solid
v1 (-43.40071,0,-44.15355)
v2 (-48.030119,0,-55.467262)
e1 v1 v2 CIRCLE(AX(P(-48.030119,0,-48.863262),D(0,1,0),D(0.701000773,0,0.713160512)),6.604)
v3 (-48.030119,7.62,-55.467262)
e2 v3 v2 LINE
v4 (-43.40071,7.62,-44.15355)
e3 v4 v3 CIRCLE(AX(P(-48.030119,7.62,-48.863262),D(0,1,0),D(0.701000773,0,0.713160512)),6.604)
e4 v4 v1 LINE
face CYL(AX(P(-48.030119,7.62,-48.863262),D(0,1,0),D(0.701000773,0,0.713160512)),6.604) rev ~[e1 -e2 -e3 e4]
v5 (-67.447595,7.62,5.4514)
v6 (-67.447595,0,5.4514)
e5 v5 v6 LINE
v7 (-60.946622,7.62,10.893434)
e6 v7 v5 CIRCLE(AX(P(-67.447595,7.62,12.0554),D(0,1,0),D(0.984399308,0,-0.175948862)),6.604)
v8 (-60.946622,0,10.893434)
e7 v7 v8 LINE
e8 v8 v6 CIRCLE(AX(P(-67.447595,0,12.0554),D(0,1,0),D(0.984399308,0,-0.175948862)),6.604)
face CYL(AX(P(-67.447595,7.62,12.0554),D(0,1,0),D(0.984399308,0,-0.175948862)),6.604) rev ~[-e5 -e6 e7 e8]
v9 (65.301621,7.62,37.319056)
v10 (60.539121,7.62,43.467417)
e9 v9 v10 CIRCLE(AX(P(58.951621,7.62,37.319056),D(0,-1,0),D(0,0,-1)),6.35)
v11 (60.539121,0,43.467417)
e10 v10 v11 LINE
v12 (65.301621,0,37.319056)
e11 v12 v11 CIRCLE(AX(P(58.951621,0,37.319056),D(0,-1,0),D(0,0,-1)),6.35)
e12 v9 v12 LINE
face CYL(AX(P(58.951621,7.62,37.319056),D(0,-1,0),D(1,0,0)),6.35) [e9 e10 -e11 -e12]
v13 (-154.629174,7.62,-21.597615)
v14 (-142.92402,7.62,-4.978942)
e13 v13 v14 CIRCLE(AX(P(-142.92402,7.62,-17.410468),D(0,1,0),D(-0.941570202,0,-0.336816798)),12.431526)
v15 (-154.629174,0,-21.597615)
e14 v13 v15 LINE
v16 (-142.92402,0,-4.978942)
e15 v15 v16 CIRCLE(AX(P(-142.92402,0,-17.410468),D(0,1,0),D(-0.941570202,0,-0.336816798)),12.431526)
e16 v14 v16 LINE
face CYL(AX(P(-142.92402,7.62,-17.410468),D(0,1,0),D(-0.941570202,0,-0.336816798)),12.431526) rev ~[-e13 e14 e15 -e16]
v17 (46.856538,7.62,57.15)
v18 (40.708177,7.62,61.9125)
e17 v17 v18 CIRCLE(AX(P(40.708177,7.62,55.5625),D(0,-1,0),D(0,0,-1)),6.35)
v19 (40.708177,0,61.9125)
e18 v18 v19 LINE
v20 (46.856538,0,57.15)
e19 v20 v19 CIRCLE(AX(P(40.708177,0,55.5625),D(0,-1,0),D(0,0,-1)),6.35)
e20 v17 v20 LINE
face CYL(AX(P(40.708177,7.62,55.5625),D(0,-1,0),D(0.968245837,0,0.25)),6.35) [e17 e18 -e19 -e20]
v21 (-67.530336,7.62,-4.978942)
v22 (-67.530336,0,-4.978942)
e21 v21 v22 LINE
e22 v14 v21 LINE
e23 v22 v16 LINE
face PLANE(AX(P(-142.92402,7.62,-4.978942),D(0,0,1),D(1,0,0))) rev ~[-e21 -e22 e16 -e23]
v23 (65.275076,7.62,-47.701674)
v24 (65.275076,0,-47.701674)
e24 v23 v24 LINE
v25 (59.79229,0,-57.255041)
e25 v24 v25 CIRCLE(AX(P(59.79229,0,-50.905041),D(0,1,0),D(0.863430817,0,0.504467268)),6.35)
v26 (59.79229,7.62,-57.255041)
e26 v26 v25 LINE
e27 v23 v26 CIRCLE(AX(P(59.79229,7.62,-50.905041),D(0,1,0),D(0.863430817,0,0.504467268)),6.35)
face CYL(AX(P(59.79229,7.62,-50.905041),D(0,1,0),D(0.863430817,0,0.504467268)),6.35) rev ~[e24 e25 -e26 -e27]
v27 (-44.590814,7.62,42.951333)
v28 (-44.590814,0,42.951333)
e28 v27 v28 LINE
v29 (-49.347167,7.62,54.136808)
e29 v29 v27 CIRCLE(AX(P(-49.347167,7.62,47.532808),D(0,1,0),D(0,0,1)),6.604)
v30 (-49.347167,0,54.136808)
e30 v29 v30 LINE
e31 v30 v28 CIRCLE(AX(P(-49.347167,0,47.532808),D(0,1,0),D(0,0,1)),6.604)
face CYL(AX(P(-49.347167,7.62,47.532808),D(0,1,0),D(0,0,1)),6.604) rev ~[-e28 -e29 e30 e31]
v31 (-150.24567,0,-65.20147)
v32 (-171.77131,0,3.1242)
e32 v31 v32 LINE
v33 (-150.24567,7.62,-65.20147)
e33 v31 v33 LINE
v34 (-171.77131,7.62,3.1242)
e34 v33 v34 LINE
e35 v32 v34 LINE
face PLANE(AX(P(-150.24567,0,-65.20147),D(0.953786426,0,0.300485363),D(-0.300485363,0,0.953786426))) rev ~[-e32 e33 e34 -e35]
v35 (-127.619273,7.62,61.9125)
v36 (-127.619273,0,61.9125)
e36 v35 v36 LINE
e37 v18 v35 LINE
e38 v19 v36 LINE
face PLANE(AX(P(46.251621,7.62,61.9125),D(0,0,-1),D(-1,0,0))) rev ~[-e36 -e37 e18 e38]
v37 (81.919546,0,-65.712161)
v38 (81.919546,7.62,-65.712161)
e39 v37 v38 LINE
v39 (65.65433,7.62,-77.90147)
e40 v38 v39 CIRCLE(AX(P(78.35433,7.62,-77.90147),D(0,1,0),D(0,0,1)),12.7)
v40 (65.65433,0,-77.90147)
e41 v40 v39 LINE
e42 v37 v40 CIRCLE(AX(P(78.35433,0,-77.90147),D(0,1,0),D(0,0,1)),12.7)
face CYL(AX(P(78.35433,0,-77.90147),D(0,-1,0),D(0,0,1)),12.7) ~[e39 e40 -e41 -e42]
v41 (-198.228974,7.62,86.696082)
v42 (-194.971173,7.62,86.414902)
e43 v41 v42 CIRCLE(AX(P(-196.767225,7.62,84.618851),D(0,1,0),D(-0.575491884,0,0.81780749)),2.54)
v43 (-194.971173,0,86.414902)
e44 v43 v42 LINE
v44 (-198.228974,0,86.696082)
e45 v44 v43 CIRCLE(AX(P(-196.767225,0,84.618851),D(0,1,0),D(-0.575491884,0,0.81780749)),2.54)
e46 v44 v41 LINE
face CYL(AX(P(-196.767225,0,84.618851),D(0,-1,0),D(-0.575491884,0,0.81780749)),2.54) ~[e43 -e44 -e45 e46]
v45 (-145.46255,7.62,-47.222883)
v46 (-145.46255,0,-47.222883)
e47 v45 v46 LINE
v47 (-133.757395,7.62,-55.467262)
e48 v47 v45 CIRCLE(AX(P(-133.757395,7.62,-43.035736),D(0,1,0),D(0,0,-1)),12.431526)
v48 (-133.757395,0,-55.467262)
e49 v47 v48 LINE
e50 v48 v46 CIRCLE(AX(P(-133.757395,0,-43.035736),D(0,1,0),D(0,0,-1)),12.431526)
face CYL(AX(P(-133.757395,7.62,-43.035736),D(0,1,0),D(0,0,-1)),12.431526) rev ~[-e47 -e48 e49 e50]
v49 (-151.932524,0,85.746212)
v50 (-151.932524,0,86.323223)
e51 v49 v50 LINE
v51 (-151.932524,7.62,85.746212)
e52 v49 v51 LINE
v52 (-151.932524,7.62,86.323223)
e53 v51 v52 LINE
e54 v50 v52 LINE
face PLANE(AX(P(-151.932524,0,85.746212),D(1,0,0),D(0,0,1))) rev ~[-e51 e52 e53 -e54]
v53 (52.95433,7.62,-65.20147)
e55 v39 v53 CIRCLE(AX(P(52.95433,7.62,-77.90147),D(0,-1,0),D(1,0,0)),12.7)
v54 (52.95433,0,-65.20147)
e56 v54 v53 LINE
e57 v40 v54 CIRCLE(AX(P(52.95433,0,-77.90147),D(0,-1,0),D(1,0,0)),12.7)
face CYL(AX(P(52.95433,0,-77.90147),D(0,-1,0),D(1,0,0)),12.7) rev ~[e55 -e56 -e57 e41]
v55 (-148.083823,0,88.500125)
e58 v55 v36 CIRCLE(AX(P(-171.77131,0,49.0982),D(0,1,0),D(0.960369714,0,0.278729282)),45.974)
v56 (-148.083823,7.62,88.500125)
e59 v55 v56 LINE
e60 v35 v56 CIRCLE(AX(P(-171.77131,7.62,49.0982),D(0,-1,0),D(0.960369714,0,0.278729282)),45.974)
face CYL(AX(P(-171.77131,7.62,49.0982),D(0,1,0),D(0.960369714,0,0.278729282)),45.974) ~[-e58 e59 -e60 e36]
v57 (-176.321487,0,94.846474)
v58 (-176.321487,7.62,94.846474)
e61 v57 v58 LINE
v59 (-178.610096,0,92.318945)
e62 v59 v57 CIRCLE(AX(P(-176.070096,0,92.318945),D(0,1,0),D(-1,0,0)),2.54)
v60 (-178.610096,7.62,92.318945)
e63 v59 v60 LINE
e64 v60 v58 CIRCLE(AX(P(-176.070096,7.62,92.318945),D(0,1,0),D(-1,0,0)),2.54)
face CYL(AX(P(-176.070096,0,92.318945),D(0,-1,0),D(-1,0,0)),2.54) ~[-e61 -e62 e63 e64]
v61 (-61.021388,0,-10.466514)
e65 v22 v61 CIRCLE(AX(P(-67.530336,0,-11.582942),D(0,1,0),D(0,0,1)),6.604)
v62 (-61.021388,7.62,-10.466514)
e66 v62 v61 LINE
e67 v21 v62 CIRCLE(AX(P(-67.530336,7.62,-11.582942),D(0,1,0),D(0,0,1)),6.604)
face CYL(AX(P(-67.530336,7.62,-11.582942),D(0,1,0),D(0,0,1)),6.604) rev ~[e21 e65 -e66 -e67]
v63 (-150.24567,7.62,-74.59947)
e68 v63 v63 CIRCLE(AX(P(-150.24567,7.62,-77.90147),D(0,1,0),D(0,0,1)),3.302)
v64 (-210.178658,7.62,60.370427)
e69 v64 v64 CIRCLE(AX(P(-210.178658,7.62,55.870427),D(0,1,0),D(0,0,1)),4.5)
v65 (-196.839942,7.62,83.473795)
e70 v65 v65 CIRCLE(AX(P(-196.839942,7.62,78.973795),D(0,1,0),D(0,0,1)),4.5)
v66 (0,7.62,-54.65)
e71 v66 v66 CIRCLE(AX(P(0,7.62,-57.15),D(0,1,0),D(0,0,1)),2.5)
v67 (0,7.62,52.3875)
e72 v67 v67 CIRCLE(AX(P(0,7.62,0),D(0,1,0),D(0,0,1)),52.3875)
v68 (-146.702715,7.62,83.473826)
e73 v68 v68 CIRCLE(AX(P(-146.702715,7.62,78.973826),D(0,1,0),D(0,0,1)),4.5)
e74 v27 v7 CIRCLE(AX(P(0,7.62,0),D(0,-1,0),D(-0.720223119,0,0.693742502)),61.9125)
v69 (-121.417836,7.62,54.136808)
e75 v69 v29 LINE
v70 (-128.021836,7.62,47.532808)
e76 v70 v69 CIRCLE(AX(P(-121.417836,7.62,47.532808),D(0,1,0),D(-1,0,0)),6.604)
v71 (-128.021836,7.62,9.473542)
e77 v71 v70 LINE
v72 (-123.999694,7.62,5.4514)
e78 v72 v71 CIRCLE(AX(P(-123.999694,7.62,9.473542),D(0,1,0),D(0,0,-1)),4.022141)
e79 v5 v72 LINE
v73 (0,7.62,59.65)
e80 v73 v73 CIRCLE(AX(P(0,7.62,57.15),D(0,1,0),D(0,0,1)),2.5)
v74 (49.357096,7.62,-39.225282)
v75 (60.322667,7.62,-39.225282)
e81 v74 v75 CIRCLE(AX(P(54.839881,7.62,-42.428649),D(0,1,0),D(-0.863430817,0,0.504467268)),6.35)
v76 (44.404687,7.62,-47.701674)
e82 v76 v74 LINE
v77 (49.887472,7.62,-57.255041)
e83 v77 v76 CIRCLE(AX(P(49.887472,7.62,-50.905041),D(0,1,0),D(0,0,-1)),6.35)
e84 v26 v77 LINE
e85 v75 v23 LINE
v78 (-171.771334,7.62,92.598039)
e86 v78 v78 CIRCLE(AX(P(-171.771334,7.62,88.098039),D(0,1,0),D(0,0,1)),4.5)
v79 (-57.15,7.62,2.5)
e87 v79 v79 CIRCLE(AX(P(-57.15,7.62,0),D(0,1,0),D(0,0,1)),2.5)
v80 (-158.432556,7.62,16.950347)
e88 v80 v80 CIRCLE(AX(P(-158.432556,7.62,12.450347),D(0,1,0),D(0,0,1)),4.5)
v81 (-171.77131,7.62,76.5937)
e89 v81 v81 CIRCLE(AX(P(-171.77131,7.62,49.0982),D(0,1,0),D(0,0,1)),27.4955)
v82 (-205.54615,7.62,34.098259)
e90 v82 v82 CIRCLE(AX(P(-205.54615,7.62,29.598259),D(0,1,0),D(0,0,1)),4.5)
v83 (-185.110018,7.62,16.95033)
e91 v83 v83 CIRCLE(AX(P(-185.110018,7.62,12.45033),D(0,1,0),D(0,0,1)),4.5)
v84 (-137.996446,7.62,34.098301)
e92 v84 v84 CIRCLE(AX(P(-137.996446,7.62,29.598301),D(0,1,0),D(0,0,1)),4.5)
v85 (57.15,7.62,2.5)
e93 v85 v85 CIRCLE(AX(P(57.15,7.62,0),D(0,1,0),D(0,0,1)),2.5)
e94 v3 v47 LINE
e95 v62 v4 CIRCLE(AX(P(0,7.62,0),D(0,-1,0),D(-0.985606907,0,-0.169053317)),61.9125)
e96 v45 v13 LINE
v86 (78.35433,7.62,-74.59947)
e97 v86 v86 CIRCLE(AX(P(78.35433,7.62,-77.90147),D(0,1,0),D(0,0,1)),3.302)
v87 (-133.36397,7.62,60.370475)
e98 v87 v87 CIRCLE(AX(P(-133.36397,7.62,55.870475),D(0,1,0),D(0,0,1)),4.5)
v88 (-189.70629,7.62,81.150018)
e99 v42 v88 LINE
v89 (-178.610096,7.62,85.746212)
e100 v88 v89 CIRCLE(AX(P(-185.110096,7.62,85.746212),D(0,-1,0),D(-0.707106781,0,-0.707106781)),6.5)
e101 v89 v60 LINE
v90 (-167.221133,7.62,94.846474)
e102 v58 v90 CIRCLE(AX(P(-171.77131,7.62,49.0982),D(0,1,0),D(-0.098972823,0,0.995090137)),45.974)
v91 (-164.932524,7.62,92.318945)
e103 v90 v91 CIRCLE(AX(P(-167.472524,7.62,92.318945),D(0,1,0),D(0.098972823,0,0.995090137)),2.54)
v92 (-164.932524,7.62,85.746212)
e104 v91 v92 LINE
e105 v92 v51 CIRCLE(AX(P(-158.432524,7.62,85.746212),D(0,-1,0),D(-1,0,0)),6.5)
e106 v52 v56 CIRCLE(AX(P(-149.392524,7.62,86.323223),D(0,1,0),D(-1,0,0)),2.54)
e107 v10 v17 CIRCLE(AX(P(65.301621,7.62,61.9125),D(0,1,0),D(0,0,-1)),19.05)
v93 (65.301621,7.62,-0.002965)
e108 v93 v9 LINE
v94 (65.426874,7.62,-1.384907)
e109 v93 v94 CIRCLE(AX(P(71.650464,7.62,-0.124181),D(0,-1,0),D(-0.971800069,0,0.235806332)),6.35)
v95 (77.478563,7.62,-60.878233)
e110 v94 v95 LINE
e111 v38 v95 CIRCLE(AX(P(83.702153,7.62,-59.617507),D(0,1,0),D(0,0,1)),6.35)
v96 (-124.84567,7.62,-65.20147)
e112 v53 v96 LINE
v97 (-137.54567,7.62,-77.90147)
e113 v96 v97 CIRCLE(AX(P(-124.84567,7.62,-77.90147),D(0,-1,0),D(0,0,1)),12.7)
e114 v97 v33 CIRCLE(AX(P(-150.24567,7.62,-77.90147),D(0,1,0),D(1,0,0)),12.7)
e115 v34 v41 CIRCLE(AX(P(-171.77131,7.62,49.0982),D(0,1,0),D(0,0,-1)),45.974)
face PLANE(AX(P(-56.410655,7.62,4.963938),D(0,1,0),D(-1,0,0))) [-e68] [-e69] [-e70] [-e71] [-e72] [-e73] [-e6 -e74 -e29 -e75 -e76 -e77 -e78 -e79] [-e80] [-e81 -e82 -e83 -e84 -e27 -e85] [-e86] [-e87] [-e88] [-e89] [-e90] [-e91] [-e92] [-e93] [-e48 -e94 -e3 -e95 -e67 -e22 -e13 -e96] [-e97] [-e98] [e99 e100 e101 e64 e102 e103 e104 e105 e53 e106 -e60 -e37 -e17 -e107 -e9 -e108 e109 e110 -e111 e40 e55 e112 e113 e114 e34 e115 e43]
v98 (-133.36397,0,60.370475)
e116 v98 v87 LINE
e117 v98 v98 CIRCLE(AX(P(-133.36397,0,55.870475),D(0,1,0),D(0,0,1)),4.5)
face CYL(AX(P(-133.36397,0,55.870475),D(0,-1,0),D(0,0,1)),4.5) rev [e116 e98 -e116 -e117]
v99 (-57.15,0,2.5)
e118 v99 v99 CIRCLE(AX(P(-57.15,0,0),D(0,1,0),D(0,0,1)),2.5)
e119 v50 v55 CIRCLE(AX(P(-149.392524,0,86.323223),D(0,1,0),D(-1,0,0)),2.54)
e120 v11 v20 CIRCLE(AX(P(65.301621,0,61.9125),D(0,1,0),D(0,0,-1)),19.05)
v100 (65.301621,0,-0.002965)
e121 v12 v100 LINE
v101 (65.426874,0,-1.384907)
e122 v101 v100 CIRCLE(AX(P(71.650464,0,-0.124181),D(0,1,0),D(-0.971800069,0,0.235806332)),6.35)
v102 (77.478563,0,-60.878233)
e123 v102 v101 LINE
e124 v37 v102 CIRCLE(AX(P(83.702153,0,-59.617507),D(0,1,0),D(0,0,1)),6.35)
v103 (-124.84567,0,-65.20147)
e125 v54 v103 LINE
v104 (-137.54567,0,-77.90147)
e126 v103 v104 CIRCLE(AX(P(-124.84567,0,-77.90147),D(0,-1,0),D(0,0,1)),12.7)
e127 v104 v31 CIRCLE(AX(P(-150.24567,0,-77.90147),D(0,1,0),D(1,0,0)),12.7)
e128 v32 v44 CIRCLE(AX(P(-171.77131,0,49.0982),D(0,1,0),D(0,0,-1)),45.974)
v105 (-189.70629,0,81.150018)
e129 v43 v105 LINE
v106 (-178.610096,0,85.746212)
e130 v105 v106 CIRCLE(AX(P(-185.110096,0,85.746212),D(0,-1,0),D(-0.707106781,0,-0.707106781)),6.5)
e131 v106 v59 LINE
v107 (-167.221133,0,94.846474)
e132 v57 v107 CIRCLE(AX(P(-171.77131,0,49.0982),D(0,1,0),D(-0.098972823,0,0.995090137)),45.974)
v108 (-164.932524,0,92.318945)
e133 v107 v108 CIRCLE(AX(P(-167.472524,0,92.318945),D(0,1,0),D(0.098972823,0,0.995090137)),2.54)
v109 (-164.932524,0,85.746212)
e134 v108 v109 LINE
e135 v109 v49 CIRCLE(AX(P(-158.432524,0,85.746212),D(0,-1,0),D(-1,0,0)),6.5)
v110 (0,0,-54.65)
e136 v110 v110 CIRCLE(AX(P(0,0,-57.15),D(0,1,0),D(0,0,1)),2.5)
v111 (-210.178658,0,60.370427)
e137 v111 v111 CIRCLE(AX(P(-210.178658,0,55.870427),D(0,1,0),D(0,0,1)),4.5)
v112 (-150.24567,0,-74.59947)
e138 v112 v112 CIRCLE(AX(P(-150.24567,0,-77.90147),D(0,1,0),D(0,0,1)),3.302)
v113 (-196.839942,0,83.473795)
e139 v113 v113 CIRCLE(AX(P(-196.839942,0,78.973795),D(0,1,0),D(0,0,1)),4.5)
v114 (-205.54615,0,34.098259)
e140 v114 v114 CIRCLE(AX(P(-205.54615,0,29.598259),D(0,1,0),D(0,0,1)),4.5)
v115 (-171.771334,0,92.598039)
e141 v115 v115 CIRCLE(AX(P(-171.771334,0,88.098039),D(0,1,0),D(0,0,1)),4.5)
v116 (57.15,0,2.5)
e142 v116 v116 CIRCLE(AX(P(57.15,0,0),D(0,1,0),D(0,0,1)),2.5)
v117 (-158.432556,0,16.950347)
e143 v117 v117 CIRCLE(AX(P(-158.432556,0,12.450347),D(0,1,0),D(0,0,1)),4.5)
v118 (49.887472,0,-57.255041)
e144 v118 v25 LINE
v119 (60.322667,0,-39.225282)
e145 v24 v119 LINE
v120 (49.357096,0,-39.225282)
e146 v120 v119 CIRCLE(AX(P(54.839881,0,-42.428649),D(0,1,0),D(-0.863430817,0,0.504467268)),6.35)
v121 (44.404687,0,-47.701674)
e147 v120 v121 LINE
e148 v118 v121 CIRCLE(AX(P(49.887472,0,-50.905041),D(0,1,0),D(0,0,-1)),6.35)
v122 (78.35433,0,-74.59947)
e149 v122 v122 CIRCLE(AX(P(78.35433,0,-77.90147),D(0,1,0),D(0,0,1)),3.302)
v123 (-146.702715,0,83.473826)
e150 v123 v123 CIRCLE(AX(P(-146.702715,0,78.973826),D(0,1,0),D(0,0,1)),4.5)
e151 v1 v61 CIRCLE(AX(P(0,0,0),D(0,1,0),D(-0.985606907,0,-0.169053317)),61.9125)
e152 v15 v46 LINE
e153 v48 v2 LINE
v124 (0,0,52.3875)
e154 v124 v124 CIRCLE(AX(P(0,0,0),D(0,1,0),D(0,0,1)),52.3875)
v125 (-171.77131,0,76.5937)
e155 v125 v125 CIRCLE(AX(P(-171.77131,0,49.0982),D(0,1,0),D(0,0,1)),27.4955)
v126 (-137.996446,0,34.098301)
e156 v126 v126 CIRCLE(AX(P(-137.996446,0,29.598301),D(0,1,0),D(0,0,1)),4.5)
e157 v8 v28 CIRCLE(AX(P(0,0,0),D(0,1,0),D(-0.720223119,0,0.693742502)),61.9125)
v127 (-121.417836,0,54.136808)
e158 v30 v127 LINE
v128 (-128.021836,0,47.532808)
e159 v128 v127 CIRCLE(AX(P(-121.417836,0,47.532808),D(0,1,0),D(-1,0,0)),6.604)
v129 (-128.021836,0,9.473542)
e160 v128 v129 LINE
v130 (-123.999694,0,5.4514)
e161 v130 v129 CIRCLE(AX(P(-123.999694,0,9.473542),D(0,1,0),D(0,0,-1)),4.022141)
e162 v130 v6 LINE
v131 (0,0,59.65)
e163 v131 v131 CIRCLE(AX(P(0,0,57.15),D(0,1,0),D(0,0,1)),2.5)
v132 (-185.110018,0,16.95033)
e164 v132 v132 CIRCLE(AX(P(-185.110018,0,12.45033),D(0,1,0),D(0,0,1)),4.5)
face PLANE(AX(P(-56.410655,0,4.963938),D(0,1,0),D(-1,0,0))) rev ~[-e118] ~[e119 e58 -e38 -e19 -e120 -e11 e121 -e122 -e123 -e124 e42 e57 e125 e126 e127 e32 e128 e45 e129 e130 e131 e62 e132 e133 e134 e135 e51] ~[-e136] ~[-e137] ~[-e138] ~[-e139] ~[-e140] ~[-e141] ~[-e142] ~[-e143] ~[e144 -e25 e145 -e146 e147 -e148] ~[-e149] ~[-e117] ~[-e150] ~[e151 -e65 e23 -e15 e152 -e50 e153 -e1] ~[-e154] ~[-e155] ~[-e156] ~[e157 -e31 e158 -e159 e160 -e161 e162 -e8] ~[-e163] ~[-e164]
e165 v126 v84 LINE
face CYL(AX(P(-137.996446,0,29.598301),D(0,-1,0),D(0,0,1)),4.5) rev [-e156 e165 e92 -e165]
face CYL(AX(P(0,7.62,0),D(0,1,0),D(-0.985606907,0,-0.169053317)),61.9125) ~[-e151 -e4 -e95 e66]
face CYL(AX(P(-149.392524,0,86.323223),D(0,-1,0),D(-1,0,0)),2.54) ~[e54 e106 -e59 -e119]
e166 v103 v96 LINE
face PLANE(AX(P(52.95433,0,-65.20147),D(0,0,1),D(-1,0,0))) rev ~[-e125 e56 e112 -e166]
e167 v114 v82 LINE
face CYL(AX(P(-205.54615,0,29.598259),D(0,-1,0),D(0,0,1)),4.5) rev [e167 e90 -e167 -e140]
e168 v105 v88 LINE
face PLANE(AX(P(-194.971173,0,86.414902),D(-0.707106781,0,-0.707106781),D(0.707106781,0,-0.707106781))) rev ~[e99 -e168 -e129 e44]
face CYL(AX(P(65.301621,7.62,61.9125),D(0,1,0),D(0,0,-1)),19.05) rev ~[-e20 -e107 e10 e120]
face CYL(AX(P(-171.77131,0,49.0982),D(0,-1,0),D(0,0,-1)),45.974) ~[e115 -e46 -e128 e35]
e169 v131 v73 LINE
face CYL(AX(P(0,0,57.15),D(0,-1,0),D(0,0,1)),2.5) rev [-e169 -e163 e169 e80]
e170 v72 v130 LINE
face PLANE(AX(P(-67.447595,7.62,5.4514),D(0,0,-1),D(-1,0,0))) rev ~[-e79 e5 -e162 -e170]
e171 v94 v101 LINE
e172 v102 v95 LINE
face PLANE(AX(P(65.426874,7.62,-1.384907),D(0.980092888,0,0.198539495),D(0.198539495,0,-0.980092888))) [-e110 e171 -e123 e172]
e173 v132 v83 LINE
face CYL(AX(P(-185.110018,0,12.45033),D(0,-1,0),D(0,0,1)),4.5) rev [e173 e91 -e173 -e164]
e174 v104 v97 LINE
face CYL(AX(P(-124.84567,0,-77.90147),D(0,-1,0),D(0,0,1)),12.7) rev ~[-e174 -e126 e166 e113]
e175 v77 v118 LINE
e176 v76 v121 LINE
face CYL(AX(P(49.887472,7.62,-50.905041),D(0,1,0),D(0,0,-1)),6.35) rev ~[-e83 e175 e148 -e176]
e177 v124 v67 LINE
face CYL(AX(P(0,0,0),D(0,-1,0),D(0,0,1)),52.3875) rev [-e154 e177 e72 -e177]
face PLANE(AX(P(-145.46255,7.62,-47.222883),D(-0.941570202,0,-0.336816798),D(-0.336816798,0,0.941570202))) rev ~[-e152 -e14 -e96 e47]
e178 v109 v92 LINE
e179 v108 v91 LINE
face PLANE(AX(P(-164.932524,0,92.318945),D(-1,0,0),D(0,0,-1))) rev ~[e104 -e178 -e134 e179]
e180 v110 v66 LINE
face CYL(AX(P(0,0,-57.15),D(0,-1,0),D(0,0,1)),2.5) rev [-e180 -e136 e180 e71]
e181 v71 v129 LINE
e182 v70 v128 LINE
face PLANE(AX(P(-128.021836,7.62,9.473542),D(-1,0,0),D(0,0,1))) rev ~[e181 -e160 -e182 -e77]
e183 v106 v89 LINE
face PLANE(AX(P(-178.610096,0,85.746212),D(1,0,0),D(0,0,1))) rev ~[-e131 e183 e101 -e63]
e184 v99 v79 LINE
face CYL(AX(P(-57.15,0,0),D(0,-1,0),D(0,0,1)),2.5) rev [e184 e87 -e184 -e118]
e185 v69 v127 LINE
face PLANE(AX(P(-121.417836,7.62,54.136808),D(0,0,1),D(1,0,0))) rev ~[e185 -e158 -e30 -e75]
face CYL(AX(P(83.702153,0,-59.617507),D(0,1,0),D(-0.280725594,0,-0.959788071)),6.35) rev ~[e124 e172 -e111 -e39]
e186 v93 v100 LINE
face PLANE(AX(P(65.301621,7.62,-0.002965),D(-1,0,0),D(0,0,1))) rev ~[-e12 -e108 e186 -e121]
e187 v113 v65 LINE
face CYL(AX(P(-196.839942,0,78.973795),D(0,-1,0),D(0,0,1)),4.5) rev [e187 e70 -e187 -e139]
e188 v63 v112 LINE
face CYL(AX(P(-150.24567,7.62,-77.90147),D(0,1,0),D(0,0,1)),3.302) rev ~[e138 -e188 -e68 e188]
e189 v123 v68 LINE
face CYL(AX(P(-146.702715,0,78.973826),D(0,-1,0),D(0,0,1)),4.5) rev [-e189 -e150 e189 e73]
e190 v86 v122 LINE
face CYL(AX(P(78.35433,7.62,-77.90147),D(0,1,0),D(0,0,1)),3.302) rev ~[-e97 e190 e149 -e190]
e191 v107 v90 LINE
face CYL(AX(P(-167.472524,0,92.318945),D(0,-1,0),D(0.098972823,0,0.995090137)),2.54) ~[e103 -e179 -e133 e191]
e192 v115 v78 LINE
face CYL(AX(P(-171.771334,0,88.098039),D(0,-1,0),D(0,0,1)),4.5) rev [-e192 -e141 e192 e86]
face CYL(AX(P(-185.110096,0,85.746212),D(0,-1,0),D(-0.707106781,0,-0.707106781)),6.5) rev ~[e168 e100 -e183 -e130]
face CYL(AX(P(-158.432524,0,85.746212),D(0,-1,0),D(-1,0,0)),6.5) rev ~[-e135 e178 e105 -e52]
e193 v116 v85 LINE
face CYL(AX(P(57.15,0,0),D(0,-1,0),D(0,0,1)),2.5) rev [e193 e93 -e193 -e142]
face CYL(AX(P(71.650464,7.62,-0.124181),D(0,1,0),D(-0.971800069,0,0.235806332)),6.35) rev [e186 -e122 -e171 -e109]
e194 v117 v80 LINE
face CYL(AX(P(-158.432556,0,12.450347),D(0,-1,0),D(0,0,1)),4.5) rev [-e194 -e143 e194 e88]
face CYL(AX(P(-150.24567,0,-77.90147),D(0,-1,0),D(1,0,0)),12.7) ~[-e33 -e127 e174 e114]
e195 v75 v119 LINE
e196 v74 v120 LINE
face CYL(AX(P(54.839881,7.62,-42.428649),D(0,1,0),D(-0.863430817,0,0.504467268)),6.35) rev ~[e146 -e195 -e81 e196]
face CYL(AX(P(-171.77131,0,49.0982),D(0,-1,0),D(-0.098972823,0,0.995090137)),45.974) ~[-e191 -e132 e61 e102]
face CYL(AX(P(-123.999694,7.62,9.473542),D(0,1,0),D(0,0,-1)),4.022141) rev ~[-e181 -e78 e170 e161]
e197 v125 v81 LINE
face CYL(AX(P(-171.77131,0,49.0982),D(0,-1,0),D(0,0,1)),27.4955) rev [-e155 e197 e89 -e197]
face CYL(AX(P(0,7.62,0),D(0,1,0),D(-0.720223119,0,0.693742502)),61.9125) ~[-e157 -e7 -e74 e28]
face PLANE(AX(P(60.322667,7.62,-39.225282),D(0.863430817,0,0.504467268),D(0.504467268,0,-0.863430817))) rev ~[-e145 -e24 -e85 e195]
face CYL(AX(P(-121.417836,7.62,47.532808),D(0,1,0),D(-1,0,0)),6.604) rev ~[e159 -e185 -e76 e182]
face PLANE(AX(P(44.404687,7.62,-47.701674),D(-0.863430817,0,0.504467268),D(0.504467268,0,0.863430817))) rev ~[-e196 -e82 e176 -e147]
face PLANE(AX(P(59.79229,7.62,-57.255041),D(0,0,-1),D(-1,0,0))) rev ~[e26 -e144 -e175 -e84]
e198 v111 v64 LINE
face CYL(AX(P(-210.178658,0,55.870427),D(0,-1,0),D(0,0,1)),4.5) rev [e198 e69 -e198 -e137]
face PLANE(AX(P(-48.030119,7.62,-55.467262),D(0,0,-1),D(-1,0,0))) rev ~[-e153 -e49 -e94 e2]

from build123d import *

# Parameters (mm, degrees)
SKETCH5_R           = 2.5
SKETCH5_R_2         = 52.3875
SKETCH5_R_3         = 4.5
SKETCH5_R_4         = 27.4955
BOSS_EXTRUDE2_DEPTH = 7.62
CUT_EXTRUDE1_REACH  = 239.718
SKETCH7_R           = 3.302
CUT_EXTRUDE2_REACH  = 239.718
FILLET1_R           = 6.35
CUT_EXTRUDE18_REACH = 239.718
CUT_EXTRUDE22_REACH = 239.718
CUT_EXTRUDE23_REACH = 239.718
CUT_EXTRUDE24_REACH = 239.718
FILLET2_R           = 6.35


with BuildPart() as part:
    # Sketch5 → Boss-Extrude2 (new body)
    with BuildSketch(Plane(origin=(0, 0, 0), x_dir=(-1, 0, 0), z_dir=(0, 1, 0))):
        with BuildLine():
            ThreePointArc((-65.654330467, 67.1325302), (-87.334586589, 76.112786321), (-78.354330467, 54.4325302))
            Line((-78.354330467, 54.4325302), (-78.354330467, -65.2014698))
            ThreePointArc((-78.354330467, -65.2014698), (-87.334586589, -86.881725921), (-65.654330467, -77.9014698))
            ThreePointArc((-65.654330467, -77.9014698), (-61.934586589, -68.921213679), (-52.954330467, -65.2014698))
            Line((-52.954330467, -65.2014698), (124.845669533, -65.2014698))
            ThreePointArc((124.845669533, -65.2014698), (133.825925654, -68.921213679), (137.545669533, -77.9014698))
            ThreePointArc((137.545669533, -77.9014698), (159.225925654, -86.881725921), (150.245669533, -65.2014698))
            Line((150.245669533, -65.2014698), (171.77131, 3.1242))
            ThreePointArc((171.77131, 3.1242), (215.601286514, 35.222255536), (198.228973896, 86.696081552))
            ThreePointArc((198.228973896, 86.696081552), (196.548809881, 87.149442365), (194.971173285, 86.414901751))
            Line((194.971173285, 86.414901751), (189.706289667, 81.150018133))
            ThreePointArc((189.706289667, 81.150018133), (182.622653279, 79.740995249), (178.61009559, 85.746212211))
            Line((178.61009559, 85.746212211), (178.61009559, 92.318945001))
            ThreePointArc((178.61009559, 92.318945001), (177.952930296, 94.023800851), (176.32148656, 94.846473949))
            ThreePointArc((176.32148656, 94.846473949), (171.77131, 95.0722), (167.22113344, 94.846473949))
            ThreePointArc((167.22113344, 94.846473949), (165.589689704, 94.023800851), (164.93252441, 92.318945001))
            Line((164.93252441, 92.318945001), (164.93252441, 85.746212211))
            ThreePointArc((164.93252441, 85.746212211), (158.43252441, 79.246212211), (151.93252441, 85.746212211))
            Line((151.93252441, 85.746212211), (151.93252441, 86.323222653))
            ThreePointArc((151.93252441, 86.323222653), (150.643024247, 88.534070942), (148.083823499, 88.500124563))
            Line((148.083823499, 88.500124563), (0, 61.9125))
            Line((0, 61.9125), (-65.654330467, 67.1325302))
        make_face()
        with Locations(Location((0, -57.15, 0), (0, 0, 90))):
            Circle(SKETCH5_R, mode=Mode.SUBTRACT)
        with Locations(Location((-57.15, 0, 0), (0, 0, 90))):
            Circle(SKETCH5_R, mode=Mode.SUBTRACT)
        with Locations(Location((0, 0, 0), (0, 0, 90))):
            Circle(SKETCH5_R_2, mode=Mode.SUBTRACT)
        with Locations(Location((57.15, 0, 0), (0, 0, 90))):
            Circle(SKETCH5_R, mode=Mode.SUBTRACT)
        with Locations(Location((158.432556474, 12.450347008, 0), (0, 0, 90))):
            Circle(SKETCH5_R_3, mode=Mode.SUBTRACT)
        with Locations(Location((185.110017809, 12.450330368, 0), (0, 0, 90))):
            Circle(SKETCH5_R_3, mode=Mode.SUBTRACT)
        with Locations(Location((0, 57.15, 0), (0, 0, 90))):
            Circle(SKETCH5_R, mode=Mode.SUBTRACT)
        with Locations(Location((137.996446159, 29.598301358, 0), (0, 0, 90))):
            Circle(SKETCH5_R_3, mode=Mode.SUBTRACT)
        with Locations(Location((205.546149516, 29.598259225, 0), (0, 0, 90))):
            Circle(SKETCH5_R_3, mode=Mode.SUBTRACT)
        with Locations(Location((171.77131, 49.0982, 0), (0, 0, 90))):
            Circle(SKETCH5_R_4, mode=Mode.SUBTRACT)
        with Locations(Location((133.36397, 55.870475, 0), (0, 0, 90))):
            Circle(SKETCH5_R_3, mode=Mode.SUBTRACT)
        with Locations(Location((210.178658448, 55.870427088, 0), (0, 0, 90))):
            Circle(SKETCH5_R_3, mode=Mode.SUBTRACT)
        with Locations(Location((146.702715077, 78.973825904, 0), (0, 0, 90))):
            Circle(SKETCH5_R_3, mode=Mode.SUBTRACT)
        with Locations(Location((171.771334325, 88.098039417, 0), (0, 0, 90))):
            Circle(SKETCH5_R_3, mode=Mode.SUBTRACT)
        with Locations(Location((196.839942191, 78.973794632, 0), (0, 0, 90))):
            Circle(SKETCH5_R_3, mode=Mode.SUBTRACT)
    extrude(amount=BOSS_EXTRUDE2_DEPTH)

    # Sketch7 → Cut-Extrude1 (cut, up to next)
    with BuildSketch(Plane(origin=(0, 7.62, 0), x_dir=(1, 0, 0), z_dir=(0, 1, 0)), mode=Mode.PRIVATE) as cut_extrude1_sk1:
        with Locations(Location((78.354330467, 77.9014698, 0), (0, 0, 270))):
            Circle(SKETCH7_R)
    cut_extrude1_tool1 = extrude(cut_extrude1_sk1.sketch, amount=-CUT_EXTRUDE1_REACH, mode=Mode.PRIVATE) & part.part
    # Sketch7 → Cut-Extrude1 (cut, up to next)
    with BuildSketch(Plane(origin=(0, 7.62, 0), x_dir=(1, 0, 0), z_dir=(0, 1, 0)), mode=Mode.PRIVATE) as cut_extrude1_sk2:
        with Locations(Location((78.354330467, -67.1325302, 0), (0, 0, 270))):
            Circle(SKETCH7_R)
    cut_extrude1_tool2 = extrude(cut_extrude1_sk2.sketch, amount=-CUT_EXTRUDE1_REACH, mode=Mode.PRIVATE) & part.part
    # Sketch7 → Cut-Extrude1 (cut, up to next)
    with BuildSketch(Plane(origin=(0, 7.62, 0), x_dir=(1, 0, 0), z_dir=(0, 1, 0)), mode=Mode.PRIVATE) as cut_extrude1_sk3:
        with Locations(Location((-150.245669533, 77.9014698, 0), (0, 0, 270))):
            Circle(SKETCH7_R)
    cut_extrude1_tool3 = extrude(cut_extrude1_sk3.sketch, amount=-CUT_EXTRUDE1_REACH, mode=Mode.PRIVATE) & part.part
    add(cut_extrude1_tool1.solids().sort_by_distance((78.35433, 7.62, -77.90147))[0], mode=Mode.SUBTRACT)
    add(cut_extrude1_tool2.solids().sort_by_distance((78.35433, 7.62, 67.13253))[0], mode=Mode.SUBTRACT)
    add(cut_extrude1_tool3.solids().sort_by_distance((-150.24567, 7.62, -77.90147))[0], mode=Mode.SUBTRACT)

    # Sketch9 → Cut-Extrude2 (cut, up to next)
    with BuildSketch(Plane(origin=(0, 7.62, 0), x_dir=(1, 0, 0), z_dir=(0, 1, 0)), mode=Mode.PRIVATE) as cut_extrude2_sk1:
        with BuildLine():
            Line((78.354330467, -54.4325302), (65.479533423, -1.373188973))
            ThreePointArc((65.479533423, -1.373188973), (65.301620926, 0.002964909), (65.426874021, 1.384907029))
            Line((65.426874021, 1.384907029), (78.354330467, 65.2014698))
            Line((78.354330467, 65.2014698), (78.354330467, -54.4325302))
        make_face()
    cut_extrude2_tool1 = extrude(cut_extrude2_sk1.sketch, amount=-CUT_EXTRUDE2_REACH, mode=Mode.PRIVATE) & part.part
    add(cut_extrude2_tool1.solids().sort_by_distance((73.953245, 7.62, -3.5903))[0], mode=Mode.SUBTRACT)

    # Fillet1
    fillet1_edges = [part.edges().sort_by_distance(p)[0] for p in [
        (78.354330467, 3.81, -65.2014698),
        (78.354330467, 3.81, 54.4325302),
    ]]
    fillet(fillet1_edges, radius=FILLET1_R)

    # Sketch18 → Cut-Extrude18 (cut, up to next)
    with BuildSketch(Plane(origin=(0, 7.62, 0), x_dir=(1, 0, 0), z_dir=(0, 1, 0)), mode=Mode.PRIVATE) as cut_extrude18_sk1:
        with BuildLine():
            Line((0, -61.9125), (-127.619272771, -61.9125))
            ThreePointArc((-127.619272771, -61.9125), (-135.339514958, -77.139829518), (-148.083823499, -88.500124563))
            Line((-148.083823499, -88.500124563), (0, -61.9125))
        make_face()
    cut_extrude18_tool1 = extrude(cut_extrude18_sk1.sketch, amount=-CUT_EXTRUDE18_REACH, mode=Mode.PRIVATE) & part.part
    add(cut_extrude18_tool1.solids().sort_by_distance((-89.926243, 7.62, 70.546245))[0], mode=Mode.SUBTRACT)

    # Sketch23 → Cut-Extrude22 (cut, up to next)
    with BuildSketch(Plane(origin=(0, 7.62, 0), x_dir=(1, 0, 0), z_dir=(0, 1, 0)), mode=Mode.PRIVATE) as cut_extrude22_sk1:
        with BuildLine():
            Line((44.404686705, 47.70167394), (49.357095568, 39.22528171))
            ThreePointArc((49.357095568, 39.22528171), (54.839881255, 36.078648861), (60.322666943, 39.22528171))
            Line((60.322666943, 39.22528171), (65.275075806, 47.70167394))
            ThreePointArc((65.275075806, 47.70167394), (65.299734236, 54.065825692), (59.792290118, 57.255041091))
            Line((59.792290118, 57.255041091), (49.887472392, 57.255041091))
            ThreePointArc((49.887472392, 57.255041091), (44.380028275, 54.065825692), (44.404686705, 47.70167394))
        make_face()
    cut_extrude22_tool1 = extrude(cut_extrude22_sk1.sketch, amount=-CUT_EXTRUDE22_REACH, mode=Mode.PRIVATE) & part.part
    add(cut_extrude22_tool1.solids().sort_by_distance((54.839881, 7.62, -48.088951))[0], mode=Mode.SUBTRACT)

    # Sketch24 → Cut-Extrude23 (cut, up to next)
    with BuildSketch(Plane(origin=(0, 7.62, 0), x_dir=(1, 0, 0), z_dir=(0, 1, 0)), mode=Mode.PRIVATE) as cut_extrude23_sk1:
        with BuildLine():
            Line((-128.021835855, -9.473541553), (-128.021835855, -47.532808157))
            ThreePointArc((-128.021835855, -47.532808157), (-126.087569038, -52.20254134), (-121.417835855, -54.136808157))
            Line((-121.417835855, -54.136808157), (-49.347167305, -54.136808157))
            ThreePointArc((-49.347167305, -54.136808157), (-43.269796158, -50.117063552), (-44.590813829, -42.951332672))
            ThreePointArc((-44.590813829, -42.951332672), (-55.149477043, -28.13703677), (-60.946622173, -10.89343389))
            ThreePointArc((-60.946622173, -10.89343389), (-63.208539256, -6.9914866), (-67.447595205, -5.451400172))
            Line((-67.447595205, -5.451400172), (-123.999694474, -5.451400172))
            ThreePointArc((-123.999694474, -5.451400172), (-126.843777919, -6.629458107), (-128.021835855, -9.473541553))
        make_face()
    cut_extrude23_tool1 = extrude(cut_extrude23_sk1.sketch, amount=-CUT_EXTRUDE23_REACH, mode=Mode.PRIVATE) & part.part
    # Sketch24 → Cut-Extrude23 (cut, up to next)
    with BuildSketch(Plane(origin=(0, 7.62, 0), x_dir=(1, 0, 0), z_dir=(0, 1, 0)), mode=Mode.PRIVATE) as cut_extrude23_sk2:
        with BuildLine():
            Line((-48.030119475, 55.467262227), (-133.757395028, 55.467262227))
            ThreePointArc((-133.757395028, 55.467262227), (-140.91596397, 53.199285335), (-145.462549697, 47.222882847))
            Line((-145.462549697, 47.222882847), (-154.629174486, 21.597614724))
            ThreePointArc((-154.629174486, 21.597614724), (-153.087569165, 10.251898923), (-142.924019817, 4.978941625))
            Line((-142.924019817, 4.978941625), (-67.530335669, 4.978941625))
            ThreePointArc((-67.530335669, 4.978941625), (-63.273580756, 6.533896803), (-61.021387653, 10.466513517))
            ThreePointArc((-61.021387653, 10.466513517), (-54.860712254, 28.695991135), (-43.400710369, 44.153550205))
            ThreePointArc((-43.400710369, 44.153550205), (-41.918010421, 51.364249812), (-48.030119475, 55.467262227))
        make_face()
    cut_extrude23_tool2 = extrude(cut_extrude23_sk2.sketch, amount=-CUT_EXTRUDE23_REACH, mode=Mode.PRIVATE) & part.part
    add(cut_extrude23_tool1.solids().sort_by_distance((-90.134227, 7.62, 31.015027))[0], mode=Mode.SUBTRACT)
    add(cut_extrude23_tool2.solids().sort_by_distance((-101.091436, 7.62, -30.758334))[0], mode=Mode.SUBTRACT)

    # Sketch25 → Cut-Extrude24 (cut, up to next)
    with BuildSketch(Plane(origin=(0, 7.62, 0), x_dir=(1, 0, 0), z_dir=(0, 1, 0)), mode=Mode.PRIVATE) as cut_extrude24_sk1:
        with BuildLine():
            Line((77.350104134, -50.293933877), (65.301620926, 0.002964909))
            Line((65.301620926, 0.002964909), (65.301620926, -42.8625))
            ThreePointArc((65.301620926, -42.8625), (51.831236744, -48.442115818), (46.251620926, -61.9125))
            Line((46.251620926, -61.9125), (0, -61.9125))
            Line((0, -61.9125), (65.654330467, -67.1325302))
            ThreePointArc((65.654330467, -67.1325302), (86.020660704, -77.257616901), (81.798799869, -54.908552511))
            ThreePointArc((81.798799869, -54.908552511), (78.949471352, -53.203752084), (77.350104134, -50.293933877))
        make_face()
    cut_extrude24_tool1 = extrude(cut_extrude24_sk1.sketch, amount=-CUT_EXTRUDE24_REACH, mode=Mode.PRIVATE) & part.part
    add(cut_extrude24_tool1.solids().sort_by_distance((67.004182, 7.62, 55.543005))[0], mode=Mode.SUBTRACT)

    # Fillet2
    fillet2_edges = [part.edges().sort_by_distance(p)[0] for p in [
        (65.301620926, 3.81, 42.8625),
        (46.251620926, 3.81, 61.9125),
    ]]
    fillet(fillet2_edges, radius=FILLET2_R)


solid = part.part
